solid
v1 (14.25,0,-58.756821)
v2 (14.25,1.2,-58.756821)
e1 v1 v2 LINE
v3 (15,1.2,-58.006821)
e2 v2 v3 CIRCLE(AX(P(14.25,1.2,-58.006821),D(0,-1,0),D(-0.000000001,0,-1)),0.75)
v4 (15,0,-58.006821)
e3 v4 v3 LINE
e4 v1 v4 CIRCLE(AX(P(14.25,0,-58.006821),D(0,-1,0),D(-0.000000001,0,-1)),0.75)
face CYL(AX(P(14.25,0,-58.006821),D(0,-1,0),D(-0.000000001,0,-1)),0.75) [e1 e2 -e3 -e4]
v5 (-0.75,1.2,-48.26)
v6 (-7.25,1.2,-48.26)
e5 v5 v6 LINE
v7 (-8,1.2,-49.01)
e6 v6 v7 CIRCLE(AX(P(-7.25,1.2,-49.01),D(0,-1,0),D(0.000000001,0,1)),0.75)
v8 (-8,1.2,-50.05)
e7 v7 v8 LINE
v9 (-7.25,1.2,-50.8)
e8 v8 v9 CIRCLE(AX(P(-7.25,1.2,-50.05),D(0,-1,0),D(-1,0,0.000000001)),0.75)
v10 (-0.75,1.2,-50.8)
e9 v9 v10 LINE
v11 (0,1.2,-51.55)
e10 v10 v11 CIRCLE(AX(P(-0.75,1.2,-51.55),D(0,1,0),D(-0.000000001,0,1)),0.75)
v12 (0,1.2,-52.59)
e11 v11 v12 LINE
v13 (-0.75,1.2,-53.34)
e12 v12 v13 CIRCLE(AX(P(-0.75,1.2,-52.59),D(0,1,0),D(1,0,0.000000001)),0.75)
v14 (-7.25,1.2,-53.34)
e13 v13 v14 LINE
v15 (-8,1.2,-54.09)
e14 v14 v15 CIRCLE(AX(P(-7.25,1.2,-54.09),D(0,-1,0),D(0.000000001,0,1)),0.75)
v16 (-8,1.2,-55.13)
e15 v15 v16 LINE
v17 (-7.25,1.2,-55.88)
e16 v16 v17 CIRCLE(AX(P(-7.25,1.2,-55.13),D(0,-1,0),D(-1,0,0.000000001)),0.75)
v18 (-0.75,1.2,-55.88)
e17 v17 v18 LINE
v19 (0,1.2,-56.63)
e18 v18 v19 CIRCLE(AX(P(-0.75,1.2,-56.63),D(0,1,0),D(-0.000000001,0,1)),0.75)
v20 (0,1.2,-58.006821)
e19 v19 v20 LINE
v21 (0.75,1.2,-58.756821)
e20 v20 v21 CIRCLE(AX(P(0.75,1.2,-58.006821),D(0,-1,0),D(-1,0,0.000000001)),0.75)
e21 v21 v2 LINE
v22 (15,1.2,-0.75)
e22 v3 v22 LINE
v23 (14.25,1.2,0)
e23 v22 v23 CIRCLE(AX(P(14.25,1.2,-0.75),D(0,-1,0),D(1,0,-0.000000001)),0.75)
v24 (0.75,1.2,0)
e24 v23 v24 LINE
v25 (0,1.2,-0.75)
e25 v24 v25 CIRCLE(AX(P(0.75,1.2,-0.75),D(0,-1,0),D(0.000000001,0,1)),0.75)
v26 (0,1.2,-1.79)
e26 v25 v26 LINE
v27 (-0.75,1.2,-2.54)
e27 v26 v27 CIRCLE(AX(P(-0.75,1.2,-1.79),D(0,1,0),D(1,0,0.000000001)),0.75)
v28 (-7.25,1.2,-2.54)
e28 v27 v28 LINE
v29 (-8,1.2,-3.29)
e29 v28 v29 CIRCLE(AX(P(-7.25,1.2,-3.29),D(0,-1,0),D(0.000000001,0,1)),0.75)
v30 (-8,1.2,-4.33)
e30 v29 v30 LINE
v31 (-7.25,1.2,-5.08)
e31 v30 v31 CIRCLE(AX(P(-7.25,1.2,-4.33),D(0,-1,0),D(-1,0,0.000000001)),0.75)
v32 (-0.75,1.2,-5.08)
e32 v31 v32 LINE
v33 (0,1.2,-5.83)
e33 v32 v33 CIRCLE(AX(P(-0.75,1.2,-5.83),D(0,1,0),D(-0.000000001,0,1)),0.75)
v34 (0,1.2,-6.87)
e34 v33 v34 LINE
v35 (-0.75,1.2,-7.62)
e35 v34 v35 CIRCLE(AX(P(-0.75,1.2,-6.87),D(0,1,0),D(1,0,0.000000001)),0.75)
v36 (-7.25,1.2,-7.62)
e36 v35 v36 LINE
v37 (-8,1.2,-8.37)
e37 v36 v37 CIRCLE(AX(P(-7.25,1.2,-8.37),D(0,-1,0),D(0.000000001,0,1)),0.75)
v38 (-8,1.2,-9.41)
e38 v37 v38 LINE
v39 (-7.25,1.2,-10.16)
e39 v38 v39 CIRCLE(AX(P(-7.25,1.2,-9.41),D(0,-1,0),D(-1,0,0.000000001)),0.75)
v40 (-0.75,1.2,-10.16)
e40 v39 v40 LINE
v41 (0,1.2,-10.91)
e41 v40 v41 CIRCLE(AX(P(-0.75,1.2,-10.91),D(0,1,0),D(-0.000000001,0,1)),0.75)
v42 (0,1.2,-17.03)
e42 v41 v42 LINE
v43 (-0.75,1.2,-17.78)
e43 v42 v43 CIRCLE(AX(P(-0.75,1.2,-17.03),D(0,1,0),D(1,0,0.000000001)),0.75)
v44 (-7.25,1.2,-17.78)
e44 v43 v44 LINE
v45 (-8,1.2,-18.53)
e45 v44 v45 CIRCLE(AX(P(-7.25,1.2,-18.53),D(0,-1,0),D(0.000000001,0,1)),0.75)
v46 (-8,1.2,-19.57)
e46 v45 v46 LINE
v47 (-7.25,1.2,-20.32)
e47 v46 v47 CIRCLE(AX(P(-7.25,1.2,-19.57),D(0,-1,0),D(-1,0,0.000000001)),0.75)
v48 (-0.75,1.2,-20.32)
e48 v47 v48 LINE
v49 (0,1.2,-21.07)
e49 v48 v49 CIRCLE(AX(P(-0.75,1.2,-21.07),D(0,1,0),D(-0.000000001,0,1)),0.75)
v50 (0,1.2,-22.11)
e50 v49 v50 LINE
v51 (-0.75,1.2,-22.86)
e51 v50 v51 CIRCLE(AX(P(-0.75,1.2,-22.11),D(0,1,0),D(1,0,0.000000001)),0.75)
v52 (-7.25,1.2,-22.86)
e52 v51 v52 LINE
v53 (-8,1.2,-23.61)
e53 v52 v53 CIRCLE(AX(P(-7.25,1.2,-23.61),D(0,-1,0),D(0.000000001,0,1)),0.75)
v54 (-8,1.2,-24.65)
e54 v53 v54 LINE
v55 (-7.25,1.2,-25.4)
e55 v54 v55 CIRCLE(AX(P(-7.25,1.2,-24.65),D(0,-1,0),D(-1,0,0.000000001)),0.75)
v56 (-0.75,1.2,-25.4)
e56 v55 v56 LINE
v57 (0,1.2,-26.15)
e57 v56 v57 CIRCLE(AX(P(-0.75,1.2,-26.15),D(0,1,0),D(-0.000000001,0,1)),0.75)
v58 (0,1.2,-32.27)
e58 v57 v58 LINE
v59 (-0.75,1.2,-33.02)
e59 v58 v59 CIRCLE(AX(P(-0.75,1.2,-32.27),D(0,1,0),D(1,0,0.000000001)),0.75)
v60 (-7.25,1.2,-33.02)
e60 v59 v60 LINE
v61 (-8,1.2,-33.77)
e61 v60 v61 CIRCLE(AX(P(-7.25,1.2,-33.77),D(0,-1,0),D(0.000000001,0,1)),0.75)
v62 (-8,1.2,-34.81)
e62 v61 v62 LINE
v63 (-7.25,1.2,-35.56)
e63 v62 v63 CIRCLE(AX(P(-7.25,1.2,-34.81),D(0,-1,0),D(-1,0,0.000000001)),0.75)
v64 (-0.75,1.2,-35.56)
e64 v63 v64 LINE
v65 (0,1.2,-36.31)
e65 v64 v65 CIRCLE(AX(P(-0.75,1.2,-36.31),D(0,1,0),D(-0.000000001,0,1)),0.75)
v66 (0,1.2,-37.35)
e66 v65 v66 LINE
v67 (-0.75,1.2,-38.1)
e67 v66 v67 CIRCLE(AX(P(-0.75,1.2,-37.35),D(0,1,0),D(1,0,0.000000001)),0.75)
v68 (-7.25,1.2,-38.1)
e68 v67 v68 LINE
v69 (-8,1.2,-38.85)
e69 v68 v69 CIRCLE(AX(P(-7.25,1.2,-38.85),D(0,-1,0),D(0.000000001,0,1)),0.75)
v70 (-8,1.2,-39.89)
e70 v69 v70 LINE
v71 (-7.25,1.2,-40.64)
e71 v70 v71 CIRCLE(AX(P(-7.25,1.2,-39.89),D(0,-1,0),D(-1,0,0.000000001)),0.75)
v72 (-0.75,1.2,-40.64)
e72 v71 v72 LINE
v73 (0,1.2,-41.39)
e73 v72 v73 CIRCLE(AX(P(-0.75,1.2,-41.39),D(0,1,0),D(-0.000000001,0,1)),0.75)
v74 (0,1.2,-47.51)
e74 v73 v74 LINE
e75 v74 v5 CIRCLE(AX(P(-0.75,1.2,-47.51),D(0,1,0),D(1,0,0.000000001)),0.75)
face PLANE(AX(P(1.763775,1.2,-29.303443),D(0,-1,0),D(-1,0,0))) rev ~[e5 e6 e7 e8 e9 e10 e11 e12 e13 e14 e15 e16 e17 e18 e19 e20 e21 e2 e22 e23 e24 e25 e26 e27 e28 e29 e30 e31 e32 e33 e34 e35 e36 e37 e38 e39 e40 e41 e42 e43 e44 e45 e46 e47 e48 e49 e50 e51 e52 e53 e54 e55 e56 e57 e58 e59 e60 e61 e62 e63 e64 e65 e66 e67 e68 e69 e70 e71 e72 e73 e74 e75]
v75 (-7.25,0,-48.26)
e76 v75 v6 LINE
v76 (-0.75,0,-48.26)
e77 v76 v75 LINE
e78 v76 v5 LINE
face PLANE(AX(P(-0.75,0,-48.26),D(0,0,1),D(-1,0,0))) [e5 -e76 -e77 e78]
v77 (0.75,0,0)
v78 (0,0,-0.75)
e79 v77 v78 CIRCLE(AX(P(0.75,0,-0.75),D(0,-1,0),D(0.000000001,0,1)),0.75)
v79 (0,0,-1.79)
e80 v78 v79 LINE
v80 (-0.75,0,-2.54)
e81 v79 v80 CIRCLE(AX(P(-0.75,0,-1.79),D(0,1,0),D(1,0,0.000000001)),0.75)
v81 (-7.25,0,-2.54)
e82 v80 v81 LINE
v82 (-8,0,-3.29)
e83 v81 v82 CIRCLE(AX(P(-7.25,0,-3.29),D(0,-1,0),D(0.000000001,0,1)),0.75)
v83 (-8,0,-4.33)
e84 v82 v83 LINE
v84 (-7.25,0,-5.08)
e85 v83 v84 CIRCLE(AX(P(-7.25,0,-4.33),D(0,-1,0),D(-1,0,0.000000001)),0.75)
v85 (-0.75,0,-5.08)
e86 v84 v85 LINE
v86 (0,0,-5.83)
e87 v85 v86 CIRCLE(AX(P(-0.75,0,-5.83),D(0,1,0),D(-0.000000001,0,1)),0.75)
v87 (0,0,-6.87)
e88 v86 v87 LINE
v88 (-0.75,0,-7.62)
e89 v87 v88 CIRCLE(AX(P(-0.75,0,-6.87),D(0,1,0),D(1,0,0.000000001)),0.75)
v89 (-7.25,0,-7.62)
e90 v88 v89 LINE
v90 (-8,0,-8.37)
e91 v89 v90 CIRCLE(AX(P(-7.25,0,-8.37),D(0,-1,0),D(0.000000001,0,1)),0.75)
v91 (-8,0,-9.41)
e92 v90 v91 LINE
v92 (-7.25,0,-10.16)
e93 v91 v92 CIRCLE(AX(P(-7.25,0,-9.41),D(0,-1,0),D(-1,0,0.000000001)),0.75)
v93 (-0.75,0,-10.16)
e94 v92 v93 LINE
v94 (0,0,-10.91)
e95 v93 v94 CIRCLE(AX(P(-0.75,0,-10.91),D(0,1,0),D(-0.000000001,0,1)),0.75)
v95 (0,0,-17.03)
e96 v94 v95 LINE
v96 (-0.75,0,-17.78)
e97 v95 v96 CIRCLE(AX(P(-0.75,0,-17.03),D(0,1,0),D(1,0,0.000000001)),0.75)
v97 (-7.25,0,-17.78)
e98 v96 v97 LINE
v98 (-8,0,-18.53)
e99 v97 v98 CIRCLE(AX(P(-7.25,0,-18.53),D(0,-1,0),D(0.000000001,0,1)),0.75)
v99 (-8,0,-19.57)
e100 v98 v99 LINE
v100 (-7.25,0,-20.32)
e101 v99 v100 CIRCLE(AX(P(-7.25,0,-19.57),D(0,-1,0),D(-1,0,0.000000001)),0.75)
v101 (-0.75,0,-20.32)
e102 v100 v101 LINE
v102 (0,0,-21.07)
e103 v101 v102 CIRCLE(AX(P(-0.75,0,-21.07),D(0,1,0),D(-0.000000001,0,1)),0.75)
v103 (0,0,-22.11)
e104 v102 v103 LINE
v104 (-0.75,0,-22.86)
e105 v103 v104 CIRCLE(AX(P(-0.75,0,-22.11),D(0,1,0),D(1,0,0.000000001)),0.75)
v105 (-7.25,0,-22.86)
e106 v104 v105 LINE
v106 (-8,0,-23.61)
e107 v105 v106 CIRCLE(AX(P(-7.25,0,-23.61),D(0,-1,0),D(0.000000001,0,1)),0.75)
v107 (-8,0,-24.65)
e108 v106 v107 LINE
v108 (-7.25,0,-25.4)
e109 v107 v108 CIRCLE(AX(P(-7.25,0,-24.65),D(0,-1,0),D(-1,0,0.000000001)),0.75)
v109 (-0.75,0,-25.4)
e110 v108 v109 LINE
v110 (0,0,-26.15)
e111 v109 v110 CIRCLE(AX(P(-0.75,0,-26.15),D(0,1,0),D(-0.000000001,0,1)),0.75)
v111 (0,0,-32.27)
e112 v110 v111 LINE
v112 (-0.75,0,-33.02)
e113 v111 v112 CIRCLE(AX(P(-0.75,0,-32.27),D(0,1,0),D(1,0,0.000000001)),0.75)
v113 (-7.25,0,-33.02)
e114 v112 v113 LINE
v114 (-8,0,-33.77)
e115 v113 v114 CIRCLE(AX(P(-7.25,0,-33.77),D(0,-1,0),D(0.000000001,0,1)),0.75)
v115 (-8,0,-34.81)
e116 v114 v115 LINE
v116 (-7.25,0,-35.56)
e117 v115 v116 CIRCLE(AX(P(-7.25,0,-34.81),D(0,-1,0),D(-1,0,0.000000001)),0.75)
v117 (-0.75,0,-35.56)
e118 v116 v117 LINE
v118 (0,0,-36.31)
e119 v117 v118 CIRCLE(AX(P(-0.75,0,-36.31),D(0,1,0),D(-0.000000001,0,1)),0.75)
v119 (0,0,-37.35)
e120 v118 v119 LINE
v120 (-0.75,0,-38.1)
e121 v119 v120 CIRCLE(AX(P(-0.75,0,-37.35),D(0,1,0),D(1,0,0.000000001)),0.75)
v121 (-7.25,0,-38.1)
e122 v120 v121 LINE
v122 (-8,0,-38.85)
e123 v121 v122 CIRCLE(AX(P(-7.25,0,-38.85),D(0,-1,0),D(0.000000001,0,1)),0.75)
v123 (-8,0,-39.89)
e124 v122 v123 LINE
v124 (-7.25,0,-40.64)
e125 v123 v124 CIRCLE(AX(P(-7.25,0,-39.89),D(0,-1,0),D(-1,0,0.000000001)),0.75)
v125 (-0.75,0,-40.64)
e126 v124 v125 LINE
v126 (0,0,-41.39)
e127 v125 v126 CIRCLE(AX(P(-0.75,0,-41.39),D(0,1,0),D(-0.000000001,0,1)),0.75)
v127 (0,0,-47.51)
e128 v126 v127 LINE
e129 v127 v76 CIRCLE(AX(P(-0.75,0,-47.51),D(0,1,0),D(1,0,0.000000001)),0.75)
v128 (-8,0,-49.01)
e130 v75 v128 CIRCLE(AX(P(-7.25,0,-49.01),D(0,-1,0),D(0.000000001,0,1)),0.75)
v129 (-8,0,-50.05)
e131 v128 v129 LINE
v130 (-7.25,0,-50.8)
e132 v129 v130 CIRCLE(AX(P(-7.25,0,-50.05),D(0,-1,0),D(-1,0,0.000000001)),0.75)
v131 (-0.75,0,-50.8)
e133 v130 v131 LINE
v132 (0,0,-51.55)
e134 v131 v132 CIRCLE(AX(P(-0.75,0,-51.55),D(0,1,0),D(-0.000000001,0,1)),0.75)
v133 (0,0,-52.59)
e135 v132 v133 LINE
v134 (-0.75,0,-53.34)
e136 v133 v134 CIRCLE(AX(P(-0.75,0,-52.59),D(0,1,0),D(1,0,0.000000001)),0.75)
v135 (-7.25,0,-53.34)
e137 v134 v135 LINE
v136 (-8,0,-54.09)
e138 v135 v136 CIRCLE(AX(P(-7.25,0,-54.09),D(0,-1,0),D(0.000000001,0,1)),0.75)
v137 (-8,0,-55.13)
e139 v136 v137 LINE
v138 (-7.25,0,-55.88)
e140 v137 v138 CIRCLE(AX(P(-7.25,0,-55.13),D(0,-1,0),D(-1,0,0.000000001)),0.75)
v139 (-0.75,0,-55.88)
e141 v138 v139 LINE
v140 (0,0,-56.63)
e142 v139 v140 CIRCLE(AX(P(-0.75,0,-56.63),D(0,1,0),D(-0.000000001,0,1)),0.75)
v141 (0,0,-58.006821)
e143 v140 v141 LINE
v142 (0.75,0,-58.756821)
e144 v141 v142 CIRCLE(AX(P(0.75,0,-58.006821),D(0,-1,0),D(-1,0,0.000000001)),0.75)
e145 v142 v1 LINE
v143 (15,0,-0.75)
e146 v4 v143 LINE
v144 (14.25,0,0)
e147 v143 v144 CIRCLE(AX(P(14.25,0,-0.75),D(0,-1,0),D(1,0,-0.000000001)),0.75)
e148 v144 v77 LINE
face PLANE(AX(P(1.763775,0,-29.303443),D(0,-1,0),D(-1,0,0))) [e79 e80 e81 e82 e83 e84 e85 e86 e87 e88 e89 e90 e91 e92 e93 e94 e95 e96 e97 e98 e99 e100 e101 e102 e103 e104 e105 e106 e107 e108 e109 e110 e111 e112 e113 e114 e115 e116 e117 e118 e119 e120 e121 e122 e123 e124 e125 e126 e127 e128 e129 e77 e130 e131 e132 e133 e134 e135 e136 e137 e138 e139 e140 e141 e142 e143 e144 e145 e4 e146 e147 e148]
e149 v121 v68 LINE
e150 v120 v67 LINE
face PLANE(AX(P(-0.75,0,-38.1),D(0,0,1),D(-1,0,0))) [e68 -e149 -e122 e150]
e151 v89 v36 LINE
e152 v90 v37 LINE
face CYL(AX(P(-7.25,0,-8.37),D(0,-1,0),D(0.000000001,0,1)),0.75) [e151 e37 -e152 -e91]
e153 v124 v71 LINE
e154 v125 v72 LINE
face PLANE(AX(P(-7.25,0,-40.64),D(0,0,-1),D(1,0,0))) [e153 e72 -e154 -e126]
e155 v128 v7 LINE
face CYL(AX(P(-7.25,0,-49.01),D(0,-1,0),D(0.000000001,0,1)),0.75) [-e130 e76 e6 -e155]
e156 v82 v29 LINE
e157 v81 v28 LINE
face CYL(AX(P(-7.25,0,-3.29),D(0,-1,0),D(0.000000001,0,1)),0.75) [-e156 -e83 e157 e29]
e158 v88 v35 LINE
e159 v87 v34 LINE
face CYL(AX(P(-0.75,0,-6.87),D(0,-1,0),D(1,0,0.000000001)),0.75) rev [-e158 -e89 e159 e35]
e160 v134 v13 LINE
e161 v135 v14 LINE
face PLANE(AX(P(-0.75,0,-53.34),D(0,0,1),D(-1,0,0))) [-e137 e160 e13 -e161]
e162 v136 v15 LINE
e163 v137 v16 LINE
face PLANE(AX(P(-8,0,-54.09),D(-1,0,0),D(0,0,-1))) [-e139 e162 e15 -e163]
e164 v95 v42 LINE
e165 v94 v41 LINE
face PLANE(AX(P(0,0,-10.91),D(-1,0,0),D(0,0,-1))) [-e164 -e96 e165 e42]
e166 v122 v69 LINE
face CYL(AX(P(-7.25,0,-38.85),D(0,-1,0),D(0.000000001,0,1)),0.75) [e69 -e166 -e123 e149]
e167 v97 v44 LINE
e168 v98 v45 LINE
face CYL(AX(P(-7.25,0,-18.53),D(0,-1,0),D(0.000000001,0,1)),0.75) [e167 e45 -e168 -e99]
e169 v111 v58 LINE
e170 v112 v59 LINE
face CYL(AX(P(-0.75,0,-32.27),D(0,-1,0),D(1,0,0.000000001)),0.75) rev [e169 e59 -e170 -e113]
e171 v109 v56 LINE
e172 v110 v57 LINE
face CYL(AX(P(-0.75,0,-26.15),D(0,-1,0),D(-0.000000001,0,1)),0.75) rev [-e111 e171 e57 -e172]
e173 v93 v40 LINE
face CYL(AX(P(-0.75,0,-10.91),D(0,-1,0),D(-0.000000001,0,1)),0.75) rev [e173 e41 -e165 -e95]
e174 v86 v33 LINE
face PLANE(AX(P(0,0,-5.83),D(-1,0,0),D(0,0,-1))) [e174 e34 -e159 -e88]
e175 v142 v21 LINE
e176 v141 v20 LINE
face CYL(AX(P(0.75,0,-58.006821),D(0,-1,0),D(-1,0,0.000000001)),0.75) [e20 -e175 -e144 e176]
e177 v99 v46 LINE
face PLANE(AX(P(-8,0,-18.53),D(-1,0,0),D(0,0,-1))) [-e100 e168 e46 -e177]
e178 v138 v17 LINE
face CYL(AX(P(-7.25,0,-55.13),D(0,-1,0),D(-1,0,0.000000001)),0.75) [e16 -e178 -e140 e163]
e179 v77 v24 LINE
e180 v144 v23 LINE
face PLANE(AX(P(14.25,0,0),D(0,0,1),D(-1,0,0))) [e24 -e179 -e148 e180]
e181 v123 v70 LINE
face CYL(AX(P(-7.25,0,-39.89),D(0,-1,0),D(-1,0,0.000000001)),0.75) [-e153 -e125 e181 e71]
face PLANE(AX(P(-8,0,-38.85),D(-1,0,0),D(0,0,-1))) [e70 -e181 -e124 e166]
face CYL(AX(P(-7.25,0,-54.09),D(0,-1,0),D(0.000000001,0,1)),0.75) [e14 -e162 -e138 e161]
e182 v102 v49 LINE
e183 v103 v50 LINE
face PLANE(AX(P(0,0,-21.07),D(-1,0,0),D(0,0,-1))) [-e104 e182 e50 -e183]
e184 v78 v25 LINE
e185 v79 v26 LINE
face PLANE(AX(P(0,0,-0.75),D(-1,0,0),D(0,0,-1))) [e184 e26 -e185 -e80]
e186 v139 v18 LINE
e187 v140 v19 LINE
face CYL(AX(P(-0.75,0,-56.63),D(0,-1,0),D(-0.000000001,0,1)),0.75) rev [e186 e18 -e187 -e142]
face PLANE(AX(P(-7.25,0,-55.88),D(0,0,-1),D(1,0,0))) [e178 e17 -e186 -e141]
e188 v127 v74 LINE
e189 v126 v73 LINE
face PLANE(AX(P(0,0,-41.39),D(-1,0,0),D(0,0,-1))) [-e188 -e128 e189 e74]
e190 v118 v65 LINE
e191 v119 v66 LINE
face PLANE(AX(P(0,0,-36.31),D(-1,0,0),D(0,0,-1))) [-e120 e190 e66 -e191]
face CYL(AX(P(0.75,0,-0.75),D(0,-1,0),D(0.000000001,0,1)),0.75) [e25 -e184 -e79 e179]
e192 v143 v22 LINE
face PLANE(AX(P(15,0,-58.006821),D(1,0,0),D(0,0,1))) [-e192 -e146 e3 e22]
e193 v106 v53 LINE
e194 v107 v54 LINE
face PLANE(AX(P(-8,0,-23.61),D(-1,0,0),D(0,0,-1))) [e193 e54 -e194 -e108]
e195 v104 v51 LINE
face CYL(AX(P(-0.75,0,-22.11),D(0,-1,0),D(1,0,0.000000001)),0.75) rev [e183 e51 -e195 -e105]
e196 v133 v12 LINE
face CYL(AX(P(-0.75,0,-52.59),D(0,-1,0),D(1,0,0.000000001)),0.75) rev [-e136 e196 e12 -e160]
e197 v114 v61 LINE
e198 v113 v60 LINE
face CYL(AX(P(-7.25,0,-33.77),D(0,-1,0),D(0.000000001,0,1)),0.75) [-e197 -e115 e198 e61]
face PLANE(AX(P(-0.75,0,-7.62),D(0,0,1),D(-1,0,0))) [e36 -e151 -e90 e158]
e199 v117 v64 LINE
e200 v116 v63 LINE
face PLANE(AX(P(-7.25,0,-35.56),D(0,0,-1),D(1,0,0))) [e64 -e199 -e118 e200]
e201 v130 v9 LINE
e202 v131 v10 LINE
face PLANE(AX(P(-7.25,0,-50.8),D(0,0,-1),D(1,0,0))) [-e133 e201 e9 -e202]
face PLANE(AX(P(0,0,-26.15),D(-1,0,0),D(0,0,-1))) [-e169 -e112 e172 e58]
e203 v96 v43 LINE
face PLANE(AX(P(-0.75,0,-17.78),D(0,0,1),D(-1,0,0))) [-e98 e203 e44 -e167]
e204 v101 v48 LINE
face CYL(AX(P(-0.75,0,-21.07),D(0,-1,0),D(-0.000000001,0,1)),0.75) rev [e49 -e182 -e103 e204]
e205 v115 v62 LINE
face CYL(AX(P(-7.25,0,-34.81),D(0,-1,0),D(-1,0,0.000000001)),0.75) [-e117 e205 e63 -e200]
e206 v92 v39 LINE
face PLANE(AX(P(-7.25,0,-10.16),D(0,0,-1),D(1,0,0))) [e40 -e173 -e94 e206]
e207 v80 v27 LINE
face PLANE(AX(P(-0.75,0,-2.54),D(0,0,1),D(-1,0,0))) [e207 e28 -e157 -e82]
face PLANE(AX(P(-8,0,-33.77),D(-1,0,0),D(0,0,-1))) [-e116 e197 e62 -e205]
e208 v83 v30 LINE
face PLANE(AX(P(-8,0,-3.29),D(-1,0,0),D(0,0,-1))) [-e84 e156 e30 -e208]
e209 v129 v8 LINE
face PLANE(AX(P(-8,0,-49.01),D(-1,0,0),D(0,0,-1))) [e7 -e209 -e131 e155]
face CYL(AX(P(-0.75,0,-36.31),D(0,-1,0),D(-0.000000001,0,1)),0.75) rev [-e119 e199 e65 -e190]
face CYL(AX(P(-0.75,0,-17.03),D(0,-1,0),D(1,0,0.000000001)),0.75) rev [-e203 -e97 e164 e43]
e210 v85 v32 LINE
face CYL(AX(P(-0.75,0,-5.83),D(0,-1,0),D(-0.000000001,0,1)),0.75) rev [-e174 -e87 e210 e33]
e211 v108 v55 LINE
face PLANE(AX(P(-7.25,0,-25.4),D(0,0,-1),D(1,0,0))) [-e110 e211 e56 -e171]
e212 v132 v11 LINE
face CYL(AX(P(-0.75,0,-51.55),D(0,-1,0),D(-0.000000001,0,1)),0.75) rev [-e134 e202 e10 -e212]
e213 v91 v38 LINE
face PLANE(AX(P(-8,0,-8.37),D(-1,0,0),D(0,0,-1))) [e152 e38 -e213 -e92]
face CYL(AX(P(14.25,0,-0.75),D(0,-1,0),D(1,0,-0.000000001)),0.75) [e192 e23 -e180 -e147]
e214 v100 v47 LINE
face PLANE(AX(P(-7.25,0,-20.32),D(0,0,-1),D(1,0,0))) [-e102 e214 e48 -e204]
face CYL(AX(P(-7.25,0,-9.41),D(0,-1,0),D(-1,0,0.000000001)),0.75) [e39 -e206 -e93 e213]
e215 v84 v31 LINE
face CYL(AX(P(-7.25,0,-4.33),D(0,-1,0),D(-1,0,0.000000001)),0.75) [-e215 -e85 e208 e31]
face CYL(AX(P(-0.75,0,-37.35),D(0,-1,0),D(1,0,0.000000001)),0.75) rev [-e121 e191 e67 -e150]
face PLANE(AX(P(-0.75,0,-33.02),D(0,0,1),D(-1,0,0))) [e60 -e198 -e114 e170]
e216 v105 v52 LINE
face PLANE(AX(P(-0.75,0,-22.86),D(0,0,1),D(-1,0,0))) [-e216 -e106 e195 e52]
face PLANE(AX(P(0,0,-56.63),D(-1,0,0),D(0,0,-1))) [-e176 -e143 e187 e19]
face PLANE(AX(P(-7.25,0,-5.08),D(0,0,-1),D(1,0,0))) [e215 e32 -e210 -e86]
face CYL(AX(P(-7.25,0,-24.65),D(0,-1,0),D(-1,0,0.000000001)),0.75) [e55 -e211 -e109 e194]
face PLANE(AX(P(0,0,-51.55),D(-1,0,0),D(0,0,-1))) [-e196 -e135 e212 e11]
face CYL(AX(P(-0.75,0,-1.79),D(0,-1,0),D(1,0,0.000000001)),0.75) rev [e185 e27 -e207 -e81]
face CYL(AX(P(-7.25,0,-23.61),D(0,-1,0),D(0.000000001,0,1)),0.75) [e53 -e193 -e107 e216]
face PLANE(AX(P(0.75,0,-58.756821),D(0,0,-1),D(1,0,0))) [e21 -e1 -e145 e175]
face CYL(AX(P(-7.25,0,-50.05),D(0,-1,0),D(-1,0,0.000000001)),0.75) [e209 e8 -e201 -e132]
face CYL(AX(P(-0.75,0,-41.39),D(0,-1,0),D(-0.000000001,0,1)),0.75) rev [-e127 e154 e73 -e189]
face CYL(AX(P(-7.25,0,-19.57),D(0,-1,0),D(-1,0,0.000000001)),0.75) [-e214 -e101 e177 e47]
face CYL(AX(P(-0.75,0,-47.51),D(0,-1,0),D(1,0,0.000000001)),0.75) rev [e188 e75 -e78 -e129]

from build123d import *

# Parameters (mm, degrees)
BOSS_EXTRUDE1_DEPTH = 1.2


with BuildPart() as part:
    # Sketch1 → Boss-Extrude1 (new body)
    with BuildSketch(Plane(origin=(0, 0, 0), x_dir=(1, 0, 0), z_dir=(0, 1, 0))):
        with BuildLine():
            Line((-0.75, 2.54), (-7.25, 2.54))
            ThreePointArc((-7.25, 2.54), (-7.780330086, 2.759669914), (-8, 3.29))
            Line((-8, 3.29), (-8, 4.33))
            ThreePointArc((-8, 4.33), (-7.780330086, 4.860330086), (-7.25, 5.08))
            Line((-7.25, 5.08), (-0.75, 5.08))
            ThreePointArc((-0.75, 5.08), (-0.219669914, 5.299669914), (0, 5.83))
            Line((0, 5.83), (0, 6.87))
            ThreePointArc((0, 6.87), (-0.219669914, 7.400330086), (-0.75, 7.62))
            Line((-0.75, 7.62), (-7.25, 7.62))
            ThreePointArc((-7.25, 7.62), (-7.780330086, 7.839669914), (-8, 8.37))
            Line((-8, 8.37), (-8, 9.41))
            ThreePointArc((-8, 9.41), (-7.780330086, 9.940330086), (-7.25, 10.16))
            Line((-7.25, 10.16), (-0.75, 10.16))
            ThreePointArc((-0.75, 10.16), (-0.219669914, 10.379669914), (0, 10.91))
            Line((0, 10.91), (0, 17.03))
            ThreePointArc((0, 17.03), (-0.219669914, 17.560330086), (-0.75, 17.78))
            Line((-0.75, 17.78), (-7.25, 17.78))
            ThreePointArc((-7.25, 17.78), (-7.780330086, 17.999669914), (-8, 18.53))
            Line((-8, 18.53), (-8, 19.57))
            ThreePointArc((-8, 19.57), (-7.780330086, 20.100330086), (-7.25, 20.32))
            Line((-7.25, 20.32), (-0.75, 20.32))
            ThreePointArc((-0.75, 20.32), (-0.219669914, 20.539669914), (0, 21.07))
            Line((0, 21.07), (0, 22.11))
            ThreePointArc((0, 22.11), (-0.219669914, 22.640330086), (-0.75, 22.86))
            Line((-0.75, 22.86), (-7.25, 22.86))
            ThreePointArc((-7.25, 22.86), (-7.780330086, 23.079669914), (-8, 23.61))
            Line((-8, 23.61), (-8, 24.65))
            ThreePointArc((-8, 24.65), (-7.780330086, 25.180330086), (-7.25, 25.4))
            Line((-7.25, 25.4), (-0.75, 25.4))
            ThreePointArc((-0.75, 25.4), (-0.219669914, 25.619669914), (0, 26.15))
            Line((0, 26.15), (0, 32.27))
            ThreePointArc((0, 32.27), (-0.219669914, 32.800330086), (-0.75, 33.02))
            Line((-0.75, 33.02), (-7.25, 33.02))
            ThreePointArc((-7.25, 33.02), (-7.780330086, 33.239669914), (-8, 33.77))
            Line((-8, 33.77), (-8, 34.81))
            ThreePointArc((-8, 34.81), (-7.780330086, 35.340330086), (-7.25, 35.56))
            Line((-7.25, 35.56), (-0.75, 35.56))
            ThreePointArc((-0.75, 35.56), (-0.219669914, 35.779669914), (0, 36.31))
            Line((0, 36.31), (0, 37.35))
            ThreePointArc((0, 37.35), (-0.219669914, 37.880330086), (-0.75, 38.1))
            Line((-0.75, 38.1), (-7.25, 38.1))
            ThreePointArc((-7.25, 38.1), (-7.780330086, 38.319669914), (-8, 38.85))
            Line((-8, 38.85), (-8, 39.89))
            ThreePointArc((-8, 39.89), (-7.780330086, 40.420330086), (-7.25, 40.64))
            Line((-7.25, 40.64), (-0.75, 40.64))
            ThreePointArc((-0.75, 40.64), (-0.219669914, 40.859669914), (0, 41.39))
            Line((0, 41.39), (0, 47.51))
            ThreePointArc((0, 47.51), (-0.219669914, 48.040330086), (-0.75, 48.26))
            Line((-0.75, 48.26), (-7.25, 48.26))
            ThreePointArc((-7.25, 48.26), (-7.780330086, 48.479669914), (-8, 49.01))
            Line((-8, 49.01), (-8, 50.05))
            ThreePointArc((-8, 50.05), (-7.780330086, 50.580330086), (-7.25, 50.8))
            Line((-7.25, 50.8), (-0.75, 50.8))
            ThreePointArc((-0.75, 50.8), (-0.219669914, 51.019669914), (0, 51.55))
            Line((0, 51.55), (0, 52.59))
            ThreePointArc((0, 52.59), (-0.219669914, 53.120330086), (-0.75, 53.34))
            Line((-0.75, 53.34), (-7.25, 53.34))
            ThreePointArc((-7.25, 53.34), (-7.780330086, 53.559669914), (-8, 54.09))
            Line((-8, 54.09), (-8, 55.13))
            ThreePointArc((-8, 55.13), (-7.780330086, 55.660330086), (-7.25, 55.88))
            Line((-7.25, 55.88), (-0.75, 55.88))
            ThreePointArc((-0.75, 55.88), (-0.219669914, 56.099669914), (0, 56.63))
            Line((0, 56.63), (0, 58.006821116))
            ThreePointArc((0, 58.006821116), (0.219669914, 58.537151202), (0.75, 58.756821116))
            Line((0.75, 58.756821116), (14.25, 58.756821116))
            ThreePointArc((14.25, 58.756821116), (14.780330086, 58.537151202), (15, 58.006821116))
            Line((15, 58.006821116), (15, 0.75))
            ThreePointArc((15, 0.75), (14.780330086, 0.219669914), (14.25, 0))
            Line((14.25, 0), (0.75, 0))
            ThreePointArc((0.75, 0), (0.219669914, 0.219669914), (0, 0.75))
            Line((0, 0.75), (0, 1.79))
            ThreePointArc((0, 1.79), (-0.219669914, 2.320330086), (-0.75, 2.54))
        make_face()
    extrude(amount=BOSS_EXTRUDE1_DEPTH)


solid = part.part
